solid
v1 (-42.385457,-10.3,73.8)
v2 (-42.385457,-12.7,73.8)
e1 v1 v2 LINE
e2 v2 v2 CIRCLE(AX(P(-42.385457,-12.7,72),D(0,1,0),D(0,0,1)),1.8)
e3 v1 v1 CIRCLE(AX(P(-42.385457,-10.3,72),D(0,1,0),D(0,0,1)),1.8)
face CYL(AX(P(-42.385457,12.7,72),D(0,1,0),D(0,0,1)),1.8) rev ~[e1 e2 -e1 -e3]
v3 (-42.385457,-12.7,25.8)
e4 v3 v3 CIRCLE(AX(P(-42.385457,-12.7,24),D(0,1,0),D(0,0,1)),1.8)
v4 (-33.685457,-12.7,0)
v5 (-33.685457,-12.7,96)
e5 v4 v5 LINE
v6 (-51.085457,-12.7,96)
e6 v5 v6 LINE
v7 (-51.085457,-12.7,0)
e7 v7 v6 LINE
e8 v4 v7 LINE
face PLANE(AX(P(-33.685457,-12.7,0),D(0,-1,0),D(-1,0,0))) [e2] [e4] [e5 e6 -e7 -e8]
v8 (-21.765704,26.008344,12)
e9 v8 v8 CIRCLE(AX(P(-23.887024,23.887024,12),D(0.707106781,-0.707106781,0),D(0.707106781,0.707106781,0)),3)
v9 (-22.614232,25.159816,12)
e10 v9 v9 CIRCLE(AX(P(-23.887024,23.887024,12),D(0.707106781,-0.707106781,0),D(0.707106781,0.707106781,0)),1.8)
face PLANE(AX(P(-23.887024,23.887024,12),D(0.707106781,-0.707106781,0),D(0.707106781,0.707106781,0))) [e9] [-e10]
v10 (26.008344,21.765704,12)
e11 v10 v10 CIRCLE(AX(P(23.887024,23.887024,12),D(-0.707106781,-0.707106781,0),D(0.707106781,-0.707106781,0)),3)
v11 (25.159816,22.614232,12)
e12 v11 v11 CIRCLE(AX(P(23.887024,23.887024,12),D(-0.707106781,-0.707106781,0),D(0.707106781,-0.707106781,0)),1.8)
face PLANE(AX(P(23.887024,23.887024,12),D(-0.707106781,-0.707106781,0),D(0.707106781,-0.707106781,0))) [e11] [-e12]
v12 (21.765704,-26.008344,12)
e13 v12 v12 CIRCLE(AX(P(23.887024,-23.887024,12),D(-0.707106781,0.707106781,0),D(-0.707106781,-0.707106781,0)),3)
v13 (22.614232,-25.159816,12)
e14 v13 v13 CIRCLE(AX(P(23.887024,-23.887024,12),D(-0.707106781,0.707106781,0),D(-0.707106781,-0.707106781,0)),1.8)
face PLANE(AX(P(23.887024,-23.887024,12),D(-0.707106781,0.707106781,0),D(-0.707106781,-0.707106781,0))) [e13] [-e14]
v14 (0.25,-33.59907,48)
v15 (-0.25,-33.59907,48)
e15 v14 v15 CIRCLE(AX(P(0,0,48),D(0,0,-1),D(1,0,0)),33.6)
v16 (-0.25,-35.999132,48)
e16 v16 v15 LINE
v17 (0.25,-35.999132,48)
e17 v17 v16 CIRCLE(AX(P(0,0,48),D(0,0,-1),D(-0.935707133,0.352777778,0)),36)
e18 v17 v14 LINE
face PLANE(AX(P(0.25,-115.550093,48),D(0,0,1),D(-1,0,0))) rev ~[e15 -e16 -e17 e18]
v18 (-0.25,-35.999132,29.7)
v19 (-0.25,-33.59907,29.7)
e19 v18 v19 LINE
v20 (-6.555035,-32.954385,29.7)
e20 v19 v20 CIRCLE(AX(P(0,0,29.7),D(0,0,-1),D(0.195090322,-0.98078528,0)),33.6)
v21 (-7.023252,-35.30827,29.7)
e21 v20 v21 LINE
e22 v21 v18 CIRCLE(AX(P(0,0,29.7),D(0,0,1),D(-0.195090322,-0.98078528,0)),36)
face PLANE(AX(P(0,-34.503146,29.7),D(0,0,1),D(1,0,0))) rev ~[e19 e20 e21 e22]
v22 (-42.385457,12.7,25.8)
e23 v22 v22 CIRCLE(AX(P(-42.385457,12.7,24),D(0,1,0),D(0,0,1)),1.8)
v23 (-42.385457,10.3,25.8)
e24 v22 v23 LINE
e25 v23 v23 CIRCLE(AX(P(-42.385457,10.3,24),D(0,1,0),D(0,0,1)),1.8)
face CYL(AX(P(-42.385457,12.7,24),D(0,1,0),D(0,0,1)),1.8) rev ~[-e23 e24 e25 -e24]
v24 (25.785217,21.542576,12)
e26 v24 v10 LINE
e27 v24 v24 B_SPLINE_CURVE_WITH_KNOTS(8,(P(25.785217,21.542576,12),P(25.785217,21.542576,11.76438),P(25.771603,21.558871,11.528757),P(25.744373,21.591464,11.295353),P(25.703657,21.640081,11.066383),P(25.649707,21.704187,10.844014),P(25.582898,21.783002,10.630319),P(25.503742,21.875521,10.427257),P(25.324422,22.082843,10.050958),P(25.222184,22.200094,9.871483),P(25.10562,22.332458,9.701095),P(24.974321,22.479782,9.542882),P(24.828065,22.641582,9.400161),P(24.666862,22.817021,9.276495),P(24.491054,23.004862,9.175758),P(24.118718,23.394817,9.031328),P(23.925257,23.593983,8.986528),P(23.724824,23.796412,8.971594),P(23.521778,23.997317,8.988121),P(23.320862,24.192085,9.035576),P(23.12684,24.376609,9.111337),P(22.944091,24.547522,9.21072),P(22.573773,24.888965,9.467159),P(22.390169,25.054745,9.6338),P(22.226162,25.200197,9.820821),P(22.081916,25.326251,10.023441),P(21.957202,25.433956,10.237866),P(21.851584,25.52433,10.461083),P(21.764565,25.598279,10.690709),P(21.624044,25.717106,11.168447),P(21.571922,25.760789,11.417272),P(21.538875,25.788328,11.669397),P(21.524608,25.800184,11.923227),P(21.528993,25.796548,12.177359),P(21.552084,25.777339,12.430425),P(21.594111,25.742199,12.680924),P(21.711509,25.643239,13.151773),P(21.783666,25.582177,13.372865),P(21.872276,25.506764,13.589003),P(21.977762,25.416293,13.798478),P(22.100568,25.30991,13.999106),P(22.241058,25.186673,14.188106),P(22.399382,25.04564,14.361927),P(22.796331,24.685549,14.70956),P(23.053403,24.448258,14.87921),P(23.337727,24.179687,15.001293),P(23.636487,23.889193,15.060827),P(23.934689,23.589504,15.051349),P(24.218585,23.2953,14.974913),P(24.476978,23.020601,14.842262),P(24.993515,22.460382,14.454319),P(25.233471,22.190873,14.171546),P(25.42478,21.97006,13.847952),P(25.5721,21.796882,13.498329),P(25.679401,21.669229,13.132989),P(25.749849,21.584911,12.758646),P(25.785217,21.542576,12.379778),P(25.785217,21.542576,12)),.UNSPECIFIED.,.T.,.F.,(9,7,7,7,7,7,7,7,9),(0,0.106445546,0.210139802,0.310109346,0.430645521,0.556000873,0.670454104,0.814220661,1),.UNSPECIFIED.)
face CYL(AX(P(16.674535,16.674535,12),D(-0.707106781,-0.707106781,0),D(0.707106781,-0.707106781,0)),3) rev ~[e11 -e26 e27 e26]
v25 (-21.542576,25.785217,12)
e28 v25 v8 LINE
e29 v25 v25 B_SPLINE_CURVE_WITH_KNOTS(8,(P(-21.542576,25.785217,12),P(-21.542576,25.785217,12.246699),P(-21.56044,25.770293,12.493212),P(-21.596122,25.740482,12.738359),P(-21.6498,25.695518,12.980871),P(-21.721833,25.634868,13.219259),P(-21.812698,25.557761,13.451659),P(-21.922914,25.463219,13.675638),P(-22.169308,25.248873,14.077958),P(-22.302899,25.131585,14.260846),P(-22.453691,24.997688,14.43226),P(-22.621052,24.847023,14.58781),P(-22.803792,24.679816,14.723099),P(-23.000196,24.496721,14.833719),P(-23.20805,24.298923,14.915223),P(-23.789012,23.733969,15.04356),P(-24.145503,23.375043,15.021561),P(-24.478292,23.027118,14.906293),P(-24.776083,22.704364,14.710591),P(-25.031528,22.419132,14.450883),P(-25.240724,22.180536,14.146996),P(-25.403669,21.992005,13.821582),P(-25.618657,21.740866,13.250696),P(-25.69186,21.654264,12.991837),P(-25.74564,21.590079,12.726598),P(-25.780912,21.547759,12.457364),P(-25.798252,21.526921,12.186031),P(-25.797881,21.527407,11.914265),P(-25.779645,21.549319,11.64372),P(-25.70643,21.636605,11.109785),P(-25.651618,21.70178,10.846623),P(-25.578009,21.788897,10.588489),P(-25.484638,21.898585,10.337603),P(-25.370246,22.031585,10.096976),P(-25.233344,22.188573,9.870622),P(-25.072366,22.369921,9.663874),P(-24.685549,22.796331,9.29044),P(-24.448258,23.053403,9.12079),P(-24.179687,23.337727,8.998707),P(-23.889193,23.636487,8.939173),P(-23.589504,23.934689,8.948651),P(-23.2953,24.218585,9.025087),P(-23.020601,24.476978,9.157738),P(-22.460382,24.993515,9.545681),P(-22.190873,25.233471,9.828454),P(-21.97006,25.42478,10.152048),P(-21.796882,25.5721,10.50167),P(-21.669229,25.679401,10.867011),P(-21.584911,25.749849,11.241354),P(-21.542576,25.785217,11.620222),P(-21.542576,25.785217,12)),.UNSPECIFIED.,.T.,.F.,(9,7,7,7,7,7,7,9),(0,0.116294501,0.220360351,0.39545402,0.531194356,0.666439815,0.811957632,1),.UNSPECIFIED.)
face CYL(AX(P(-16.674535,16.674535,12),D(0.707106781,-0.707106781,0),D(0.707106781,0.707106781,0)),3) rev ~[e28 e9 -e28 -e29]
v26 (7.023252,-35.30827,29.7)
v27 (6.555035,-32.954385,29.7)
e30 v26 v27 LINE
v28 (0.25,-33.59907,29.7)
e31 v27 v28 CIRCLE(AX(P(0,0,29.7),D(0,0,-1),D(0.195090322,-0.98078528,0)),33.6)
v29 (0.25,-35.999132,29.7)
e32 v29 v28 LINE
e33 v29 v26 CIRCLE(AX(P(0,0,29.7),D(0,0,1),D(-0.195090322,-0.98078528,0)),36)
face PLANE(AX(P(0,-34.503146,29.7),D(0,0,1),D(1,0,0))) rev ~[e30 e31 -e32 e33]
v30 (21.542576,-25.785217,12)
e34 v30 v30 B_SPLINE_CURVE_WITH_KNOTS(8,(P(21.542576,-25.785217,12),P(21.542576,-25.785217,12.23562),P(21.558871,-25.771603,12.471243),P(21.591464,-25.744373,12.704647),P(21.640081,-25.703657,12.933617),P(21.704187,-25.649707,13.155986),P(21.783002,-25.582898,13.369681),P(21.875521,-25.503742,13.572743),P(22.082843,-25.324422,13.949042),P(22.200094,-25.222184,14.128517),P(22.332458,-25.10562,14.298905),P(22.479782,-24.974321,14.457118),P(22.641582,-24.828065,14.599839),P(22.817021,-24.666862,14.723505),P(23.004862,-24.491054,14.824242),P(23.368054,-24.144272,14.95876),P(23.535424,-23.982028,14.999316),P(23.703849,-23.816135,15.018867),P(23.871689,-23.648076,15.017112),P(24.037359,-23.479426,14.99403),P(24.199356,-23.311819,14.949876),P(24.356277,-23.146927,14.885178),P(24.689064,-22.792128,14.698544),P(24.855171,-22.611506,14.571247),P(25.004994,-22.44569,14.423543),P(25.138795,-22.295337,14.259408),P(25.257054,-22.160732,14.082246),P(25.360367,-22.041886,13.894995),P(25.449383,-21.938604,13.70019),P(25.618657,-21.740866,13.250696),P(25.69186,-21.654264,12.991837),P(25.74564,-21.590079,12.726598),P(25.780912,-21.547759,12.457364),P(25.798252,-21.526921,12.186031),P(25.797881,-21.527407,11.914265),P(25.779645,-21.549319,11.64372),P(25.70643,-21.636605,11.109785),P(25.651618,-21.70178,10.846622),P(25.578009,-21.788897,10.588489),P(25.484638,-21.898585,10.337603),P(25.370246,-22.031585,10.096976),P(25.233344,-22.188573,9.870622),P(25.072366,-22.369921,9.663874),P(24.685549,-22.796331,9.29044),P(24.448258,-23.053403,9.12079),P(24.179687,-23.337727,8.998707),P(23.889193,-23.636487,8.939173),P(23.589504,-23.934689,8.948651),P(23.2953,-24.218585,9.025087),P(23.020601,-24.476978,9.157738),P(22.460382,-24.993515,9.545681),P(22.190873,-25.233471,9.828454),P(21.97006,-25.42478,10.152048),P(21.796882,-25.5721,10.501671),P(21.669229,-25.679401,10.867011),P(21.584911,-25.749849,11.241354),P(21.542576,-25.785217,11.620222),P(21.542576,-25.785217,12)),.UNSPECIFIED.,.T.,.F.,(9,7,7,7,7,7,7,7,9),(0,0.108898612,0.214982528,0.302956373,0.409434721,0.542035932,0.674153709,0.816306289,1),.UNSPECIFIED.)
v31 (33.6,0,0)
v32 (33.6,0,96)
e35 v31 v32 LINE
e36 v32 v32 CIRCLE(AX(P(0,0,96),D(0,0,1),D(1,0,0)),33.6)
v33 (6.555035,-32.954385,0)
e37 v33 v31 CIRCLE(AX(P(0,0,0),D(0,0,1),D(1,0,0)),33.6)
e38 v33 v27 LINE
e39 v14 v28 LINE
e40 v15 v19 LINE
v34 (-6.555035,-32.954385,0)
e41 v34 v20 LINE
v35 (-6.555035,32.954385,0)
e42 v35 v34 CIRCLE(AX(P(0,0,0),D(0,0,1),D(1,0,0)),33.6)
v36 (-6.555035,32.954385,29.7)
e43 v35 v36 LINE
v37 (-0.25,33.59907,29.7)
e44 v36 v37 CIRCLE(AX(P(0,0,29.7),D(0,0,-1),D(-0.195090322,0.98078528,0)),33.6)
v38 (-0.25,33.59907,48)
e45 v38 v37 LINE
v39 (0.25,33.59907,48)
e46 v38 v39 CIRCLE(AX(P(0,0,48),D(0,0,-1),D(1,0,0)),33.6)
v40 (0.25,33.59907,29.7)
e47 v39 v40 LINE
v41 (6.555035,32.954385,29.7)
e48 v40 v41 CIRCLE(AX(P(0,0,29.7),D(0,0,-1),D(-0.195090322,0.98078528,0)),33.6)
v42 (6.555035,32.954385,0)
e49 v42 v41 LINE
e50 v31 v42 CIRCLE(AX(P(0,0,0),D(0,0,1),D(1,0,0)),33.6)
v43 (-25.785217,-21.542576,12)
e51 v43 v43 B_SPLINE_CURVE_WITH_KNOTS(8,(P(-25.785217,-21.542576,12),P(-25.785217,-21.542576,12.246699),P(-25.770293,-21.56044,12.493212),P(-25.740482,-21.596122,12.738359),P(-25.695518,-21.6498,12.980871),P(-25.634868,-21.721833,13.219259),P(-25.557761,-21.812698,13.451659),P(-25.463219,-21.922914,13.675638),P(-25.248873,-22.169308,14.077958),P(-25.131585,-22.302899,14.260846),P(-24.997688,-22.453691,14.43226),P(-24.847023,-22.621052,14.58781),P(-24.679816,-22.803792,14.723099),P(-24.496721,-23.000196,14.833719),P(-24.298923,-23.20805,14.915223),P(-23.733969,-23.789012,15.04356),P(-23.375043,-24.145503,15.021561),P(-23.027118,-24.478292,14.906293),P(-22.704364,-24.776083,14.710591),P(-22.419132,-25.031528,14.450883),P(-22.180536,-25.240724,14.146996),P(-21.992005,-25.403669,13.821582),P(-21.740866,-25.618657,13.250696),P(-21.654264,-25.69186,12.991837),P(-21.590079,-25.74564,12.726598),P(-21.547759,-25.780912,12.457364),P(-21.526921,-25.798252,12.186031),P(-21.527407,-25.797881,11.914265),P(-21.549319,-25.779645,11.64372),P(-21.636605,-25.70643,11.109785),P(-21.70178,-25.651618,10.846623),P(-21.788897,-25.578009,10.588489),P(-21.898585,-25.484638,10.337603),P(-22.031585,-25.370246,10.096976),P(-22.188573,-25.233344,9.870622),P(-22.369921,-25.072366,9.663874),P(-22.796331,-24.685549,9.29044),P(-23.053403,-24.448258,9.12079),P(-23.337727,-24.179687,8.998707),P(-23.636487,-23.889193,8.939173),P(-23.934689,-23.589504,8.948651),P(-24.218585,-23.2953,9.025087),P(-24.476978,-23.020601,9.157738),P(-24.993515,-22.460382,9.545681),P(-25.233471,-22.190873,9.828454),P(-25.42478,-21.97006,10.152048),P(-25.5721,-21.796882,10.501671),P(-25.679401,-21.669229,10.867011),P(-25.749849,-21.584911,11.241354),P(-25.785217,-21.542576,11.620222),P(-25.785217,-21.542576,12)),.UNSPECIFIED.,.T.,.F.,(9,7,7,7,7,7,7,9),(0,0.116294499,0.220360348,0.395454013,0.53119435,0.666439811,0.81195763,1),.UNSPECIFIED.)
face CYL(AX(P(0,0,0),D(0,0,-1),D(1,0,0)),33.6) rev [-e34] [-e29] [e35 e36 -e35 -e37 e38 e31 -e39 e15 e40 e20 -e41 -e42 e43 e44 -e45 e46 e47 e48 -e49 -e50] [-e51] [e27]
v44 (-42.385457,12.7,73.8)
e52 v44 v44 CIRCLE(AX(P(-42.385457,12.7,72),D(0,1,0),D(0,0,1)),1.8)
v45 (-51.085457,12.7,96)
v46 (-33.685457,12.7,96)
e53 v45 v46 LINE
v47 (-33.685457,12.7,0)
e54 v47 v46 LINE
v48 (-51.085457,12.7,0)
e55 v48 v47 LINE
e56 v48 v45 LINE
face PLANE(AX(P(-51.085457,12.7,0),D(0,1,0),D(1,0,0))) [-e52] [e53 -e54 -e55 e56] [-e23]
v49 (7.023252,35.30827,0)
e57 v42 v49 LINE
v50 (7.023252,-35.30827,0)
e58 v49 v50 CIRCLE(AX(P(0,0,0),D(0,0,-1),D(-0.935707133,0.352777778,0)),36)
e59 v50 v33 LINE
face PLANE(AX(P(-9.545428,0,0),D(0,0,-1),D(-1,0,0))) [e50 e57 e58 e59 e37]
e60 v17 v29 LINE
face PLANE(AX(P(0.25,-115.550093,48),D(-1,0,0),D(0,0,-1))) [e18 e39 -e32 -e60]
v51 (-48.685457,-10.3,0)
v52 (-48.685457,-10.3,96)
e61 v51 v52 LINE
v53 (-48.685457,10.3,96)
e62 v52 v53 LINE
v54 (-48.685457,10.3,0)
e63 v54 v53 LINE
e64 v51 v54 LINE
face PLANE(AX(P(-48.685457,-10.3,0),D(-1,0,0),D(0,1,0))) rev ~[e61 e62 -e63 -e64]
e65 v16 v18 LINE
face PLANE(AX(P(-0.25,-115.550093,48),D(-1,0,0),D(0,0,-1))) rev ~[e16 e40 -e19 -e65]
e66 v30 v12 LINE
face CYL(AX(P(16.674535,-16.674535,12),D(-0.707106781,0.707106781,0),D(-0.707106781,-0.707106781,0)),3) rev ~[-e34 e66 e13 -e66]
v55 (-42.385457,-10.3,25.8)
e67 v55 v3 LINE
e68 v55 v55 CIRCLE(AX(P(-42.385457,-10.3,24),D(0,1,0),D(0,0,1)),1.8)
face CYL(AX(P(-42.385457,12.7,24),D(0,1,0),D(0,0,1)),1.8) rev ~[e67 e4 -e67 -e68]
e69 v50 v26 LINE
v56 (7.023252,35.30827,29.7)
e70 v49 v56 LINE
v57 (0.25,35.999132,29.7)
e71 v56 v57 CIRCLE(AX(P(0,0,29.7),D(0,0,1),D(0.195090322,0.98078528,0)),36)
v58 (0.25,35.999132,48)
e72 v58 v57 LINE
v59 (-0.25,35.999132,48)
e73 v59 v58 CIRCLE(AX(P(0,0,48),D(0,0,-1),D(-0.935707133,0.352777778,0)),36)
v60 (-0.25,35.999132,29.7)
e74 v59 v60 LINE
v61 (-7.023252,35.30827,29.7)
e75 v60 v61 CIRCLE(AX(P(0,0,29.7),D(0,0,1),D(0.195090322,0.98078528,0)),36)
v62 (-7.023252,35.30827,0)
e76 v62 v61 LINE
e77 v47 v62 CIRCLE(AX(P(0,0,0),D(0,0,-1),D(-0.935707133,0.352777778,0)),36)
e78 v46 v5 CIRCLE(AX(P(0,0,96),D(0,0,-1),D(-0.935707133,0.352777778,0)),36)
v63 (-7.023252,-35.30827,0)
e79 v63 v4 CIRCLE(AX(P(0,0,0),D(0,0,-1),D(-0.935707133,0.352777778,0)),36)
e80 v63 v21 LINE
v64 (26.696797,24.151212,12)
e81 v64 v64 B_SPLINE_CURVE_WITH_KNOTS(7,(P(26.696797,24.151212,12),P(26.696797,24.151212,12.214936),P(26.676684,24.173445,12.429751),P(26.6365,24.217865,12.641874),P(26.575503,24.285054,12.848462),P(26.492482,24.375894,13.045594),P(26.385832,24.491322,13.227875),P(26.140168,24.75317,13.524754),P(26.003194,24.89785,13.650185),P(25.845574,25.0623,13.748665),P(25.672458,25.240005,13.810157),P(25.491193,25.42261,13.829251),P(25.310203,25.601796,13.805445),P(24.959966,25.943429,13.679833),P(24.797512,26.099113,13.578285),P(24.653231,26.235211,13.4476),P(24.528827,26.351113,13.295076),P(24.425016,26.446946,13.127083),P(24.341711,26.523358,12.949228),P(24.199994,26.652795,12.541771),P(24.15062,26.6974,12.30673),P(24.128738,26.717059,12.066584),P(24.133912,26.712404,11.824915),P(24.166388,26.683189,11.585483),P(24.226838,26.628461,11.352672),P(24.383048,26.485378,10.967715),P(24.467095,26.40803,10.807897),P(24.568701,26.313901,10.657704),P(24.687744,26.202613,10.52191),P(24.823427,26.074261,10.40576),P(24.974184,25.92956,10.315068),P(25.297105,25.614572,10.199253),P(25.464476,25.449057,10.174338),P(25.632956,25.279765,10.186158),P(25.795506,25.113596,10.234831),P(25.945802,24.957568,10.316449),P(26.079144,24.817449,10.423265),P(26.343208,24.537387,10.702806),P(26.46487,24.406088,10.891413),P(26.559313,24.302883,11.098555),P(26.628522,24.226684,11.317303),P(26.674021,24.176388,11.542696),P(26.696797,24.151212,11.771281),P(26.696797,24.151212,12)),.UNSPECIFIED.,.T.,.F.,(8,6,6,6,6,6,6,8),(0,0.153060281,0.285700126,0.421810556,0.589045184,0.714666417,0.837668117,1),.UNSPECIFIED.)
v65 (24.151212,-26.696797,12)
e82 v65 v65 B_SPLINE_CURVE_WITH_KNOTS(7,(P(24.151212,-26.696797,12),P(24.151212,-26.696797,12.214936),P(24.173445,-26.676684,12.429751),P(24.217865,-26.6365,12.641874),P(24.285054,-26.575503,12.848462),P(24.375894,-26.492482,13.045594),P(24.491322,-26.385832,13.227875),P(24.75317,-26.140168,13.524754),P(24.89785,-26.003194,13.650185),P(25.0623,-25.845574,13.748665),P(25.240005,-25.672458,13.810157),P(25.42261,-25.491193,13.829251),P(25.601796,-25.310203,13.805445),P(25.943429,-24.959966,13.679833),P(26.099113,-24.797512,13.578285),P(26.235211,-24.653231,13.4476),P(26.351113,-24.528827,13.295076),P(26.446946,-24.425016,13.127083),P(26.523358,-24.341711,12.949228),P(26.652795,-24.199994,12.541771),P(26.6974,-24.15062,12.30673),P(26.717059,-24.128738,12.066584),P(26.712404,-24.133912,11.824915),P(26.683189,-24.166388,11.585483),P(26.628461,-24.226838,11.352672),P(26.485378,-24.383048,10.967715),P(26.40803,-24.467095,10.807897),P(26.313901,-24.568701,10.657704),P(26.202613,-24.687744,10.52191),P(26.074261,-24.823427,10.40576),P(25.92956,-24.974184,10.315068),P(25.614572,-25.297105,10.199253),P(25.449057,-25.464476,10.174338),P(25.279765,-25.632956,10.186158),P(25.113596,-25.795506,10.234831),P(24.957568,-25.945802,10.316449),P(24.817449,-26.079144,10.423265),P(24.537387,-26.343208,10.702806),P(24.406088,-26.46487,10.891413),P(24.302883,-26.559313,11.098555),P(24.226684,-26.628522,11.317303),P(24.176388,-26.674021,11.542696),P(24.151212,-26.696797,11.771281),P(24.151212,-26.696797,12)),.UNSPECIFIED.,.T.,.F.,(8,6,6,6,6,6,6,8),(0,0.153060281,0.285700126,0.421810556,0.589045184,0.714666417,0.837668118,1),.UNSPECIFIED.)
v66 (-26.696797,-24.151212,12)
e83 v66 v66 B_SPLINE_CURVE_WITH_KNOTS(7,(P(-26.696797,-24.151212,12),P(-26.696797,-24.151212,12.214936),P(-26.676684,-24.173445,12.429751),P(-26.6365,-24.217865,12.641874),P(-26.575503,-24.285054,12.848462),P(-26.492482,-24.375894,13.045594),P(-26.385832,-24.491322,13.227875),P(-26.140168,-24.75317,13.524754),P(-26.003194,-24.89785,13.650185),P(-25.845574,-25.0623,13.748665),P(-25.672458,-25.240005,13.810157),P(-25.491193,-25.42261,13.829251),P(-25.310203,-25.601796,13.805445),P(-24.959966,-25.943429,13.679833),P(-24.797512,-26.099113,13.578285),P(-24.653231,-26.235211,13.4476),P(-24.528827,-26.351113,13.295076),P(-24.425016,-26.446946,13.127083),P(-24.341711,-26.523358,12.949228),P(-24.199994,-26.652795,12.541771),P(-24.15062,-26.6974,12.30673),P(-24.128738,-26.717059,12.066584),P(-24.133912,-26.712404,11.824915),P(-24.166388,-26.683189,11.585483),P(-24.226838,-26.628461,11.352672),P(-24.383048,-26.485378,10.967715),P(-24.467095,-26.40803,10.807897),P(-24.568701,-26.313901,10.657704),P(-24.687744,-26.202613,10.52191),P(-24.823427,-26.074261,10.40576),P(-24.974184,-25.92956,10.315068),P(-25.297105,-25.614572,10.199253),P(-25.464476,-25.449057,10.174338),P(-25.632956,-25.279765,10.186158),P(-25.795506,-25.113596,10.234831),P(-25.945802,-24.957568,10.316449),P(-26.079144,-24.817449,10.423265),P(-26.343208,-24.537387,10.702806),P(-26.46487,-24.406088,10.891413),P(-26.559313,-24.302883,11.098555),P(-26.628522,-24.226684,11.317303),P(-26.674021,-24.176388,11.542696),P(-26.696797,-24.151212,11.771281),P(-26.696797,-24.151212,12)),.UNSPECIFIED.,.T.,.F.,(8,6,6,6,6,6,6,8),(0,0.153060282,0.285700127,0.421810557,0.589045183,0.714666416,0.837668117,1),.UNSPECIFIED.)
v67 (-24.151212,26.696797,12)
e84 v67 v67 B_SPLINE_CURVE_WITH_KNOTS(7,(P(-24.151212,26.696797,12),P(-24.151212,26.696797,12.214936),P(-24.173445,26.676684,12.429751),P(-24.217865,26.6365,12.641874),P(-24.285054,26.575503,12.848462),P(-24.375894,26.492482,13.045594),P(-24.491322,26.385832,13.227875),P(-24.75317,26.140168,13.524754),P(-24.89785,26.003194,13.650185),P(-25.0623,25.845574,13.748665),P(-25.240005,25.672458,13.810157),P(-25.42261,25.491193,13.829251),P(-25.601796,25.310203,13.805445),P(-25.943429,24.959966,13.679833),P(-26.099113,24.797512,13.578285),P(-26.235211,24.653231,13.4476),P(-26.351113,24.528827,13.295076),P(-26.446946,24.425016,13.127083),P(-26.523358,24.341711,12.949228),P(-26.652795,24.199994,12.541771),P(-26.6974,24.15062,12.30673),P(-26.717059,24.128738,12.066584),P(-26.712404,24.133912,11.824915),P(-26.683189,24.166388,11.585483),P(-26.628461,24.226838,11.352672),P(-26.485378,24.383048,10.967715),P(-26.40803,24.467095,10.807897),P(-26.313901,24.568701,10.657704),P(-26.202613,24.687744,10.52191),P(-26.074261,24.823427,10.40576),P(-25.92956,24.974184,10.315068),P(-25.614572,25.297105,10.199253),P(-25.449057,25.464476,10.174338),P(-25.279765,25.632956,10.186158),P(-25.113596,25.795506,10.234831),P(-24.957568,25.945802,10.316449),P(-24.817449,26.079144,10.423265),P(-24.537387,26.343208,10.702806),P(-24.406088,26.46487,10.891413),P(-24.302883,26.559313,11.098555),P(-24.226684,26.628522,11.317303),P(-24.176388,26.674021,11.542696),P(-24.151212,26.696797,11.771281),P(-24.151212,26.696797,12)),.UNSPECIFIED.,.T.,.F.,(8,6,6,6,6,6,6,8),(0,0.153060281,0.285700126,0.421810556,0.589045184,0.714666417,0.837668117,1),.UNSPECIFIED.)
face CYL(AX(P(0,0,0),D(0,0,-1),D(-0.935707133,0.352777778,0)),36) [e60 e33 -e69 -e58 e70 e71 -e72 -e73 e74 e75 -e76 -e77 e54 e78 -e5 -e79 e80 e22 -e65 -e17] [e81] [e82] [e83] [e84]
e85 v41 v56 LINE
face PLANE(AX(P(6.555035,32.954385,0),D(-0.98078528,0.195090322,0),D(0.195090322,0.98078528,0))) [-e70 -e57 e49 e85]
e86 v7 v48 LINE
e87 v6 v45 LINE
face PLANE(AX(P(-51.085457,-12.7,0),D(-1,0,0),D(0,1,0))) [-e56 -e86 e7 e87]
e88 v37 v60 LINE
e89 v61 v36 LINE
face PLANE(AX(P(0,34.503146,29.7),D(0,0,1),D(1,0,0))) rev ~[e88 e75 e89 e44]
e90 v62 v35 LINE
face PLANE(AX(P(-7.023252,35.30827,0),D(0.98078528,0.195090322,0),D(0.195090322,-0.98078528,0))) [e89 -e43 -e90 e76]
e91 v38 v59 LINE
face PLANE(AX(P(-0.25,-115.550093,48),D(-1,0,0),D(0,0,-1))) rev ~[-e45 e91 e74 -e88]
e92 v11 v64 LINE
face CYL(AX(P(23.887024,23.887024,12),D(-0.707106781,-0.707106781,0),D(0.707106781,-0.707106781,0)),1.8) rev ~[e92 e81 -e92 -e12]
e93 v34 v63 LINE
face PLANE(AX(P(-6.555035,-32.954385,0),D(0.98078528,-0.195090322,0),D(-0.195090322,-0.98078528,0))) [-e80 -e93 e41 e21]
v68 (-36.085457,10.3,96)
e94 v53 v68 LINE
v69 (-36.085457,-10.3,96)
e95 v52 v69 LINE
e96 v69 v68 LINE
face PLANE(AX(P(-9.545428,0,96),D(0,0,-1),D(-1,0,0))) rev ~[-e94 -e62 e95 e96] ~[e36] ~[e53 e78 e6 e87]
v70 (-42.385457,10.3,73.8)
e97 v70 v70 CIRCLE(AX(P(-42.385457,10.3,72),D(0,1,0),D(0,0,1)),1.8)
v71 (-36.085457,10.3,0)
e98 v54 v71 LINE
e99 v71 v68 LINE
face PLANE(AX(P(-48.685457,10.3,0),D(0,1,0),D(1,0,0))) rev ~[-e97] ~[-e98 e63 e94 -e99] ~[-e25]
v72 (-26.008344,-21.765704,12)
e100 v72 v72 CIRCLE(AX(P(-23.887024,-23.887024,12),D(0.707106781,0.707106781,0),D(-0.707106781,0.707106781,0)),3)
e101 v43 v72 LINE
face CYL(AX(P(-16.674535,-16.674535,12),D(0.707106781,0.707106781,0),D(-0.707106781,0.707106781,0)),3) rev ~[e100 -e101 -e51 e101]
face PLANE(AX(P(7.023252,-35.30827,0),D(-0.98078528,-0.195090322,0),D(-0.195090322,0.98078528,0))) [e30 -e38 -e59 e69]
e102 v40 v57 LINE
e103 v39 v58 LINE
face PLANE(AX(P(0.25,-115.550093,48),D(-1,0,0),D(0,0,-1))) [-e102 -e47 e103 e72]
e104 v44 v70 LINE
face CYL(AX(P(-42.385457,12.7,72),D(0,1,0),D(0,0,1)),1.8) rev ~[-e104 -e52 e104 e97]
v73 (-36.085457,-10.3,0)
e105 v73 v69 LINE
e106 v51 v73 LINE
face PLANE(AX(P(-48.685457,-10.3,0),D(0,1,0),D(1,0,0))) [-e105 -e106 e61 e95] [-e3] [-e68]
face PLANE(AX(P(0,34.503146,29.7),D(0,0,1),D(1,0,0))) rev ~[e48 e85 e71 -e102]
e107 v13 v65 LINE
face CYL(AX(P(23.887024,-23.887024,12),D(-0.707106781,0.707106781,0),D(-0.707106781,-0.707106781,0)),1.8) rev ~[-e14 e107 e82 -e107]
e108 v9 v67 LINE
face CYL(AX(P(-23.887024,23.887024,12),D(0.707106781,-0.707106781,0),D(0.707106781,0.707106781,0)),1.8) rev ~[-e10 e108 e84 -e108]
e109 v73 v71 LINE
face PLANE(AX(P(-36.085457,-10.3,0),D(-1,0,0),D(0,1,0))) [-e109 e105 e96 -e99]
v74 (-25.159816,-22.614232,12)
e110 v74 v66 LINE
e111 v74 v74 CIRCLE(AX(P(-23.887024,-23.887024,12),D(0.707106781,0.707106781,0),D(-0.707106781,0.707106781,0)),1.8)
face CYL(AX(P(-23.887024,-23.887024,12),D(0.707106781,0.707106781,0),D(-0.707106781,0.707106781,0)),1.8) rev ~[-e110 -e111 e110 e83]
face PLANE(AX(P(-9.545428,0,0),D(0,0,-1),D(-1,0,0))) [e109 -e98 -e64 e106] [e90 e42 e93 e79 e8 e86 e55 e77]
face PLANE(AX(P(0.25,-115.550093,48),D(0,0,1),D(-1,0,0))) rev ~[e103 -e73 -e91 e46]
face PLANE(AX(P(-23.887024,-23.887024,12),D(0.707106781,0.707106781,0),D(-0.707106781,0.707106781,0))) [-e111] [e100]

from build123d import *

# Parameters (mm, degrees)
SKETCH1_R                = 33.6
SKETCH1_W                = 12.6
SKETCH1_H                = 20.6
BOSS_EXTRUDE1_DEPTH      = 96
CUT_EXTRUDE1_DEPTH       = 115.550093395
CUT_EXTRUDE1_DEPTH_BACK  = 115.550093395
SKETCH2_W                = 48
SKETCH2_H                = 0.5
BOSS_EXTRUDE2_REACH      = 130.771
BOSS_EXTRUDE2_END_RADIUS = 33.6
SKETCH3_R                = 3
SKETCH4_R                = 3
CUT_EXTRUDE2_DEPTH       = 10.2
SKETCH5_R                = 1.8
CUT_EXTRUDE3_DEPTH       = 136.732562696
CIRPATTERN1_COUNT        = 4
SKETCH12_R               = 1.8
CUT_EXTRUDE7_DEPTH       = 120.152901457
CUT_EXTRUDE8_DEPTH       = 115.55009351
CUT_EXTRUDE8_DEPTH_BACK  = 115.55009351
SKETCH13_W               = 12
SKETCH13_H               = 29.4
CUT_EXTRUDE10_DEPTH      = 29.7


with BuildPart() as part:
    # Sketch1 → Boss-Extrude1 (new body)
    with BuildSketch(Plane.XY):
        with BuildLine():
            Line((-51.085456803, 12.7), (-33.685456803, 12.7))
            ThreePointArc((-33.685456803, 12.7), (36, 0), (-33.685456803, -12.7))
            Line((-33.685456803, -12.7), (-51.085456803, -12.7))
            Line((-51.085456803, -12.7), (-51.085456803, 12.7))
        make_face()
        Circle(SKETCH1_R, mode=Mode.SUBTRACT)
        with Locations((-42.385456803, 0)):
            Rectangle(SKETCH1_W, SKETCH1_H, mode=Mode.SUBTRACT)
    extrude(amount=BOSS_EXTRUDE1_DEPTH)

    # Sketch2 → Cut-Extrude1 (cut, two sides: drawn at the far end of the back side and taken through both)
    with BuildSketch(Plane(origin=(0, 0, 0), x_dir=(0, 0, -1), z_dir=(0, 1, 0)).offset(-CUT_EXTRUDE1_DEPTH_BACK)):
        with Locations((-24, 0)):
            Rectangle(SKETCH2_W, SKETCH2_H)
    extrude(amount=CUT_EXTRUDE1_DEPTH + CUT_EXTRUDE1_DEPTH_BACK, mode=Mode.SUBTRACT)

    # Boss-Extrude2: up to this cylinder (the profile starts inside it)
    boss_extrude2_end = Plane(origin=(0, 0, 12), z_dir=(0, 0, -1)) * Cylinder(BOSS_EXTRUDE2_END_RADIUS, 329.742, mode=Mode.PRIVATE)
    # Sketch3 → Boss-Extrude2 (add, up to the surface)
    with BuildSketch(Plane(origin=(16.674534964, 16.674534964, 0), x_dir=(0, 0, -1), z_dir=(0.7071067811865488, 0.7071067811865464, 0)), mode=Mode.PRIVATE) as boss_extrude2_sk1:
        with Locations(Location((-12, 0, 0), (0, 0, 270))):
            Circle(SKETCH3_R)
    boss_extrude2_tool1 = extrude(boss_extrude2_sk1.sketch, amount=BOSS_EXTRUDE2_REACH, mode=Mode.PRIVATE) & boss_extrude2_end
    add(boss_extrude2_tool1.solids().sort_by_distance((16.674535, 16.674535, 12))[0])

    # Sketch4 → Cut-Extrude2 (cut)
    with BuildSketch(Plane(origin=(16.674534964, 16.674534964, 0), x_dir=(0, 0, 1), z_dir=(-0.7071067811865487, -0.7071067811865465, 0))):
        with Locations(Location((12, 0, 0), (0, 0, 270))):
            Circle(SKETCH4_R)
    cut_extrude2 = extrude(amount=-CUT_EXTRUDE2_DEPTH, mode=Mode.SUBTRACT)

    # Sketch5 → Cut-Extrude3 (cut, through all)
    with BuildSketch(Plane(origin=(23.887024132, 23.887024132, 0), x_dir=(0, 0, 1), z_dir=(-0.7071067811865486, -0.7071067811865465, 0))):
        with Locations(Location((12, 0, 0), (0, 0, 270))):
            Circle(SKETCH5_R)
    cut_extrude3 = extrude(amount=-CUT_EXTRUDE3_DEPTH, mode=Mode.SUBTRACT)

    # CirPattern1: Cut-Extrude2, Cut-Extrude3 ×4 about axis
    cirpattern1_axis = Axis((0, 0, 0), (0, 0, 1))
    add([cut_extrude2.rotate(cirpattern1_axis, i * 360 / CIRPATTERN1_COUNT) for i in range(1, CIRPATTERN1_COUNT)], mode=Mode.SUBTRACT)
    add([cut_extrude3.rotate(cirpattern1_axis, i * 360 / CIRPATTERN1_COUNT) for i in range(1, CIRPATTERN1_COUNT)], mode=Mode.SUBTRACT)

    # Sketch12 → Cut-Extrude7 (cut, through all)
    with BuildSketch(Plane(origin=(0, 12.7, 0), x_dir=(1, 0, 0), z_dir=(0, 1, 0))):
        with Locations(Location((-42.385456803, -24, 0), (0, 0, 270))):
            Circle(SKETCH12_R)
        with Locations(Location((-42.385456803, -72, 0), (0, 0, 270))):
            Circle(SKETCH12_R)
    extrude(amount=-CUT_EXTRUDE7_DEPTH, mode=Mode.SUBTRACT)

    # Sketch13 → Cut-Extrude8 (cut, two sides: drawn at the far end of the back side and taken through both)
    with BuildSketch(Plane(origin=(0, 0, 0), x_dir=(1, 0, 0), z_dir=(0, 1, 0)).offset(-CUT_EXTRUDE8_DEPTH_BACK)):
        with Locations((0, -14.7)):
            Rectangle(SKETCH13_W, SKETCH13_H)
    extrude(amount=CUT_EXTRUDE8_DEPTH + CUT_EXTRUDE8_DEPTH_BACK, mode=Mode.SUBTRACT)

    # Sketch15 → Cut-Extrude10 (cut)
    with BuildSketch(Plane(origin=(0, 0, 0), x_dir=(-1, 0, 0), z_dir=(0, 0, -1))):
        with BuildLine():
            Line((-7.023251593, -35.308270095), (-6.55503482, -32.954385422))
            ThreePointArc((-6.55503482, -32.954385422), (0, -33.6), (6.55503482, -32.954385422))
            Line((6.55503482, -32.954385422), (7.023251593, -35.308270095))
            ThreePointArc((7.023251593, -35.308270095), (0, -36), (-7.023251593, -35.308270095))
        make_face()
        with BuildLine():
            Line((7.023251593, 35.308270095), (6.55503482, 32.954385422))
            ThreePointArc((6.55503482, 32.954385422), (0, 33.6), (-6.55503482, 32.954385422))
            Line((-6.55503482, 32.954385422), (-7.023251593, 35.308270095))
            ThreePointArc((-7.023251593, 35.308270095), (0, 36), (7.023251593, 35.308270095))
        make_face()
    extrude(amount=-CUT_EXTRUDE10_DEPTH, mode=Mode.SUBTRACT)


solid = part.part
